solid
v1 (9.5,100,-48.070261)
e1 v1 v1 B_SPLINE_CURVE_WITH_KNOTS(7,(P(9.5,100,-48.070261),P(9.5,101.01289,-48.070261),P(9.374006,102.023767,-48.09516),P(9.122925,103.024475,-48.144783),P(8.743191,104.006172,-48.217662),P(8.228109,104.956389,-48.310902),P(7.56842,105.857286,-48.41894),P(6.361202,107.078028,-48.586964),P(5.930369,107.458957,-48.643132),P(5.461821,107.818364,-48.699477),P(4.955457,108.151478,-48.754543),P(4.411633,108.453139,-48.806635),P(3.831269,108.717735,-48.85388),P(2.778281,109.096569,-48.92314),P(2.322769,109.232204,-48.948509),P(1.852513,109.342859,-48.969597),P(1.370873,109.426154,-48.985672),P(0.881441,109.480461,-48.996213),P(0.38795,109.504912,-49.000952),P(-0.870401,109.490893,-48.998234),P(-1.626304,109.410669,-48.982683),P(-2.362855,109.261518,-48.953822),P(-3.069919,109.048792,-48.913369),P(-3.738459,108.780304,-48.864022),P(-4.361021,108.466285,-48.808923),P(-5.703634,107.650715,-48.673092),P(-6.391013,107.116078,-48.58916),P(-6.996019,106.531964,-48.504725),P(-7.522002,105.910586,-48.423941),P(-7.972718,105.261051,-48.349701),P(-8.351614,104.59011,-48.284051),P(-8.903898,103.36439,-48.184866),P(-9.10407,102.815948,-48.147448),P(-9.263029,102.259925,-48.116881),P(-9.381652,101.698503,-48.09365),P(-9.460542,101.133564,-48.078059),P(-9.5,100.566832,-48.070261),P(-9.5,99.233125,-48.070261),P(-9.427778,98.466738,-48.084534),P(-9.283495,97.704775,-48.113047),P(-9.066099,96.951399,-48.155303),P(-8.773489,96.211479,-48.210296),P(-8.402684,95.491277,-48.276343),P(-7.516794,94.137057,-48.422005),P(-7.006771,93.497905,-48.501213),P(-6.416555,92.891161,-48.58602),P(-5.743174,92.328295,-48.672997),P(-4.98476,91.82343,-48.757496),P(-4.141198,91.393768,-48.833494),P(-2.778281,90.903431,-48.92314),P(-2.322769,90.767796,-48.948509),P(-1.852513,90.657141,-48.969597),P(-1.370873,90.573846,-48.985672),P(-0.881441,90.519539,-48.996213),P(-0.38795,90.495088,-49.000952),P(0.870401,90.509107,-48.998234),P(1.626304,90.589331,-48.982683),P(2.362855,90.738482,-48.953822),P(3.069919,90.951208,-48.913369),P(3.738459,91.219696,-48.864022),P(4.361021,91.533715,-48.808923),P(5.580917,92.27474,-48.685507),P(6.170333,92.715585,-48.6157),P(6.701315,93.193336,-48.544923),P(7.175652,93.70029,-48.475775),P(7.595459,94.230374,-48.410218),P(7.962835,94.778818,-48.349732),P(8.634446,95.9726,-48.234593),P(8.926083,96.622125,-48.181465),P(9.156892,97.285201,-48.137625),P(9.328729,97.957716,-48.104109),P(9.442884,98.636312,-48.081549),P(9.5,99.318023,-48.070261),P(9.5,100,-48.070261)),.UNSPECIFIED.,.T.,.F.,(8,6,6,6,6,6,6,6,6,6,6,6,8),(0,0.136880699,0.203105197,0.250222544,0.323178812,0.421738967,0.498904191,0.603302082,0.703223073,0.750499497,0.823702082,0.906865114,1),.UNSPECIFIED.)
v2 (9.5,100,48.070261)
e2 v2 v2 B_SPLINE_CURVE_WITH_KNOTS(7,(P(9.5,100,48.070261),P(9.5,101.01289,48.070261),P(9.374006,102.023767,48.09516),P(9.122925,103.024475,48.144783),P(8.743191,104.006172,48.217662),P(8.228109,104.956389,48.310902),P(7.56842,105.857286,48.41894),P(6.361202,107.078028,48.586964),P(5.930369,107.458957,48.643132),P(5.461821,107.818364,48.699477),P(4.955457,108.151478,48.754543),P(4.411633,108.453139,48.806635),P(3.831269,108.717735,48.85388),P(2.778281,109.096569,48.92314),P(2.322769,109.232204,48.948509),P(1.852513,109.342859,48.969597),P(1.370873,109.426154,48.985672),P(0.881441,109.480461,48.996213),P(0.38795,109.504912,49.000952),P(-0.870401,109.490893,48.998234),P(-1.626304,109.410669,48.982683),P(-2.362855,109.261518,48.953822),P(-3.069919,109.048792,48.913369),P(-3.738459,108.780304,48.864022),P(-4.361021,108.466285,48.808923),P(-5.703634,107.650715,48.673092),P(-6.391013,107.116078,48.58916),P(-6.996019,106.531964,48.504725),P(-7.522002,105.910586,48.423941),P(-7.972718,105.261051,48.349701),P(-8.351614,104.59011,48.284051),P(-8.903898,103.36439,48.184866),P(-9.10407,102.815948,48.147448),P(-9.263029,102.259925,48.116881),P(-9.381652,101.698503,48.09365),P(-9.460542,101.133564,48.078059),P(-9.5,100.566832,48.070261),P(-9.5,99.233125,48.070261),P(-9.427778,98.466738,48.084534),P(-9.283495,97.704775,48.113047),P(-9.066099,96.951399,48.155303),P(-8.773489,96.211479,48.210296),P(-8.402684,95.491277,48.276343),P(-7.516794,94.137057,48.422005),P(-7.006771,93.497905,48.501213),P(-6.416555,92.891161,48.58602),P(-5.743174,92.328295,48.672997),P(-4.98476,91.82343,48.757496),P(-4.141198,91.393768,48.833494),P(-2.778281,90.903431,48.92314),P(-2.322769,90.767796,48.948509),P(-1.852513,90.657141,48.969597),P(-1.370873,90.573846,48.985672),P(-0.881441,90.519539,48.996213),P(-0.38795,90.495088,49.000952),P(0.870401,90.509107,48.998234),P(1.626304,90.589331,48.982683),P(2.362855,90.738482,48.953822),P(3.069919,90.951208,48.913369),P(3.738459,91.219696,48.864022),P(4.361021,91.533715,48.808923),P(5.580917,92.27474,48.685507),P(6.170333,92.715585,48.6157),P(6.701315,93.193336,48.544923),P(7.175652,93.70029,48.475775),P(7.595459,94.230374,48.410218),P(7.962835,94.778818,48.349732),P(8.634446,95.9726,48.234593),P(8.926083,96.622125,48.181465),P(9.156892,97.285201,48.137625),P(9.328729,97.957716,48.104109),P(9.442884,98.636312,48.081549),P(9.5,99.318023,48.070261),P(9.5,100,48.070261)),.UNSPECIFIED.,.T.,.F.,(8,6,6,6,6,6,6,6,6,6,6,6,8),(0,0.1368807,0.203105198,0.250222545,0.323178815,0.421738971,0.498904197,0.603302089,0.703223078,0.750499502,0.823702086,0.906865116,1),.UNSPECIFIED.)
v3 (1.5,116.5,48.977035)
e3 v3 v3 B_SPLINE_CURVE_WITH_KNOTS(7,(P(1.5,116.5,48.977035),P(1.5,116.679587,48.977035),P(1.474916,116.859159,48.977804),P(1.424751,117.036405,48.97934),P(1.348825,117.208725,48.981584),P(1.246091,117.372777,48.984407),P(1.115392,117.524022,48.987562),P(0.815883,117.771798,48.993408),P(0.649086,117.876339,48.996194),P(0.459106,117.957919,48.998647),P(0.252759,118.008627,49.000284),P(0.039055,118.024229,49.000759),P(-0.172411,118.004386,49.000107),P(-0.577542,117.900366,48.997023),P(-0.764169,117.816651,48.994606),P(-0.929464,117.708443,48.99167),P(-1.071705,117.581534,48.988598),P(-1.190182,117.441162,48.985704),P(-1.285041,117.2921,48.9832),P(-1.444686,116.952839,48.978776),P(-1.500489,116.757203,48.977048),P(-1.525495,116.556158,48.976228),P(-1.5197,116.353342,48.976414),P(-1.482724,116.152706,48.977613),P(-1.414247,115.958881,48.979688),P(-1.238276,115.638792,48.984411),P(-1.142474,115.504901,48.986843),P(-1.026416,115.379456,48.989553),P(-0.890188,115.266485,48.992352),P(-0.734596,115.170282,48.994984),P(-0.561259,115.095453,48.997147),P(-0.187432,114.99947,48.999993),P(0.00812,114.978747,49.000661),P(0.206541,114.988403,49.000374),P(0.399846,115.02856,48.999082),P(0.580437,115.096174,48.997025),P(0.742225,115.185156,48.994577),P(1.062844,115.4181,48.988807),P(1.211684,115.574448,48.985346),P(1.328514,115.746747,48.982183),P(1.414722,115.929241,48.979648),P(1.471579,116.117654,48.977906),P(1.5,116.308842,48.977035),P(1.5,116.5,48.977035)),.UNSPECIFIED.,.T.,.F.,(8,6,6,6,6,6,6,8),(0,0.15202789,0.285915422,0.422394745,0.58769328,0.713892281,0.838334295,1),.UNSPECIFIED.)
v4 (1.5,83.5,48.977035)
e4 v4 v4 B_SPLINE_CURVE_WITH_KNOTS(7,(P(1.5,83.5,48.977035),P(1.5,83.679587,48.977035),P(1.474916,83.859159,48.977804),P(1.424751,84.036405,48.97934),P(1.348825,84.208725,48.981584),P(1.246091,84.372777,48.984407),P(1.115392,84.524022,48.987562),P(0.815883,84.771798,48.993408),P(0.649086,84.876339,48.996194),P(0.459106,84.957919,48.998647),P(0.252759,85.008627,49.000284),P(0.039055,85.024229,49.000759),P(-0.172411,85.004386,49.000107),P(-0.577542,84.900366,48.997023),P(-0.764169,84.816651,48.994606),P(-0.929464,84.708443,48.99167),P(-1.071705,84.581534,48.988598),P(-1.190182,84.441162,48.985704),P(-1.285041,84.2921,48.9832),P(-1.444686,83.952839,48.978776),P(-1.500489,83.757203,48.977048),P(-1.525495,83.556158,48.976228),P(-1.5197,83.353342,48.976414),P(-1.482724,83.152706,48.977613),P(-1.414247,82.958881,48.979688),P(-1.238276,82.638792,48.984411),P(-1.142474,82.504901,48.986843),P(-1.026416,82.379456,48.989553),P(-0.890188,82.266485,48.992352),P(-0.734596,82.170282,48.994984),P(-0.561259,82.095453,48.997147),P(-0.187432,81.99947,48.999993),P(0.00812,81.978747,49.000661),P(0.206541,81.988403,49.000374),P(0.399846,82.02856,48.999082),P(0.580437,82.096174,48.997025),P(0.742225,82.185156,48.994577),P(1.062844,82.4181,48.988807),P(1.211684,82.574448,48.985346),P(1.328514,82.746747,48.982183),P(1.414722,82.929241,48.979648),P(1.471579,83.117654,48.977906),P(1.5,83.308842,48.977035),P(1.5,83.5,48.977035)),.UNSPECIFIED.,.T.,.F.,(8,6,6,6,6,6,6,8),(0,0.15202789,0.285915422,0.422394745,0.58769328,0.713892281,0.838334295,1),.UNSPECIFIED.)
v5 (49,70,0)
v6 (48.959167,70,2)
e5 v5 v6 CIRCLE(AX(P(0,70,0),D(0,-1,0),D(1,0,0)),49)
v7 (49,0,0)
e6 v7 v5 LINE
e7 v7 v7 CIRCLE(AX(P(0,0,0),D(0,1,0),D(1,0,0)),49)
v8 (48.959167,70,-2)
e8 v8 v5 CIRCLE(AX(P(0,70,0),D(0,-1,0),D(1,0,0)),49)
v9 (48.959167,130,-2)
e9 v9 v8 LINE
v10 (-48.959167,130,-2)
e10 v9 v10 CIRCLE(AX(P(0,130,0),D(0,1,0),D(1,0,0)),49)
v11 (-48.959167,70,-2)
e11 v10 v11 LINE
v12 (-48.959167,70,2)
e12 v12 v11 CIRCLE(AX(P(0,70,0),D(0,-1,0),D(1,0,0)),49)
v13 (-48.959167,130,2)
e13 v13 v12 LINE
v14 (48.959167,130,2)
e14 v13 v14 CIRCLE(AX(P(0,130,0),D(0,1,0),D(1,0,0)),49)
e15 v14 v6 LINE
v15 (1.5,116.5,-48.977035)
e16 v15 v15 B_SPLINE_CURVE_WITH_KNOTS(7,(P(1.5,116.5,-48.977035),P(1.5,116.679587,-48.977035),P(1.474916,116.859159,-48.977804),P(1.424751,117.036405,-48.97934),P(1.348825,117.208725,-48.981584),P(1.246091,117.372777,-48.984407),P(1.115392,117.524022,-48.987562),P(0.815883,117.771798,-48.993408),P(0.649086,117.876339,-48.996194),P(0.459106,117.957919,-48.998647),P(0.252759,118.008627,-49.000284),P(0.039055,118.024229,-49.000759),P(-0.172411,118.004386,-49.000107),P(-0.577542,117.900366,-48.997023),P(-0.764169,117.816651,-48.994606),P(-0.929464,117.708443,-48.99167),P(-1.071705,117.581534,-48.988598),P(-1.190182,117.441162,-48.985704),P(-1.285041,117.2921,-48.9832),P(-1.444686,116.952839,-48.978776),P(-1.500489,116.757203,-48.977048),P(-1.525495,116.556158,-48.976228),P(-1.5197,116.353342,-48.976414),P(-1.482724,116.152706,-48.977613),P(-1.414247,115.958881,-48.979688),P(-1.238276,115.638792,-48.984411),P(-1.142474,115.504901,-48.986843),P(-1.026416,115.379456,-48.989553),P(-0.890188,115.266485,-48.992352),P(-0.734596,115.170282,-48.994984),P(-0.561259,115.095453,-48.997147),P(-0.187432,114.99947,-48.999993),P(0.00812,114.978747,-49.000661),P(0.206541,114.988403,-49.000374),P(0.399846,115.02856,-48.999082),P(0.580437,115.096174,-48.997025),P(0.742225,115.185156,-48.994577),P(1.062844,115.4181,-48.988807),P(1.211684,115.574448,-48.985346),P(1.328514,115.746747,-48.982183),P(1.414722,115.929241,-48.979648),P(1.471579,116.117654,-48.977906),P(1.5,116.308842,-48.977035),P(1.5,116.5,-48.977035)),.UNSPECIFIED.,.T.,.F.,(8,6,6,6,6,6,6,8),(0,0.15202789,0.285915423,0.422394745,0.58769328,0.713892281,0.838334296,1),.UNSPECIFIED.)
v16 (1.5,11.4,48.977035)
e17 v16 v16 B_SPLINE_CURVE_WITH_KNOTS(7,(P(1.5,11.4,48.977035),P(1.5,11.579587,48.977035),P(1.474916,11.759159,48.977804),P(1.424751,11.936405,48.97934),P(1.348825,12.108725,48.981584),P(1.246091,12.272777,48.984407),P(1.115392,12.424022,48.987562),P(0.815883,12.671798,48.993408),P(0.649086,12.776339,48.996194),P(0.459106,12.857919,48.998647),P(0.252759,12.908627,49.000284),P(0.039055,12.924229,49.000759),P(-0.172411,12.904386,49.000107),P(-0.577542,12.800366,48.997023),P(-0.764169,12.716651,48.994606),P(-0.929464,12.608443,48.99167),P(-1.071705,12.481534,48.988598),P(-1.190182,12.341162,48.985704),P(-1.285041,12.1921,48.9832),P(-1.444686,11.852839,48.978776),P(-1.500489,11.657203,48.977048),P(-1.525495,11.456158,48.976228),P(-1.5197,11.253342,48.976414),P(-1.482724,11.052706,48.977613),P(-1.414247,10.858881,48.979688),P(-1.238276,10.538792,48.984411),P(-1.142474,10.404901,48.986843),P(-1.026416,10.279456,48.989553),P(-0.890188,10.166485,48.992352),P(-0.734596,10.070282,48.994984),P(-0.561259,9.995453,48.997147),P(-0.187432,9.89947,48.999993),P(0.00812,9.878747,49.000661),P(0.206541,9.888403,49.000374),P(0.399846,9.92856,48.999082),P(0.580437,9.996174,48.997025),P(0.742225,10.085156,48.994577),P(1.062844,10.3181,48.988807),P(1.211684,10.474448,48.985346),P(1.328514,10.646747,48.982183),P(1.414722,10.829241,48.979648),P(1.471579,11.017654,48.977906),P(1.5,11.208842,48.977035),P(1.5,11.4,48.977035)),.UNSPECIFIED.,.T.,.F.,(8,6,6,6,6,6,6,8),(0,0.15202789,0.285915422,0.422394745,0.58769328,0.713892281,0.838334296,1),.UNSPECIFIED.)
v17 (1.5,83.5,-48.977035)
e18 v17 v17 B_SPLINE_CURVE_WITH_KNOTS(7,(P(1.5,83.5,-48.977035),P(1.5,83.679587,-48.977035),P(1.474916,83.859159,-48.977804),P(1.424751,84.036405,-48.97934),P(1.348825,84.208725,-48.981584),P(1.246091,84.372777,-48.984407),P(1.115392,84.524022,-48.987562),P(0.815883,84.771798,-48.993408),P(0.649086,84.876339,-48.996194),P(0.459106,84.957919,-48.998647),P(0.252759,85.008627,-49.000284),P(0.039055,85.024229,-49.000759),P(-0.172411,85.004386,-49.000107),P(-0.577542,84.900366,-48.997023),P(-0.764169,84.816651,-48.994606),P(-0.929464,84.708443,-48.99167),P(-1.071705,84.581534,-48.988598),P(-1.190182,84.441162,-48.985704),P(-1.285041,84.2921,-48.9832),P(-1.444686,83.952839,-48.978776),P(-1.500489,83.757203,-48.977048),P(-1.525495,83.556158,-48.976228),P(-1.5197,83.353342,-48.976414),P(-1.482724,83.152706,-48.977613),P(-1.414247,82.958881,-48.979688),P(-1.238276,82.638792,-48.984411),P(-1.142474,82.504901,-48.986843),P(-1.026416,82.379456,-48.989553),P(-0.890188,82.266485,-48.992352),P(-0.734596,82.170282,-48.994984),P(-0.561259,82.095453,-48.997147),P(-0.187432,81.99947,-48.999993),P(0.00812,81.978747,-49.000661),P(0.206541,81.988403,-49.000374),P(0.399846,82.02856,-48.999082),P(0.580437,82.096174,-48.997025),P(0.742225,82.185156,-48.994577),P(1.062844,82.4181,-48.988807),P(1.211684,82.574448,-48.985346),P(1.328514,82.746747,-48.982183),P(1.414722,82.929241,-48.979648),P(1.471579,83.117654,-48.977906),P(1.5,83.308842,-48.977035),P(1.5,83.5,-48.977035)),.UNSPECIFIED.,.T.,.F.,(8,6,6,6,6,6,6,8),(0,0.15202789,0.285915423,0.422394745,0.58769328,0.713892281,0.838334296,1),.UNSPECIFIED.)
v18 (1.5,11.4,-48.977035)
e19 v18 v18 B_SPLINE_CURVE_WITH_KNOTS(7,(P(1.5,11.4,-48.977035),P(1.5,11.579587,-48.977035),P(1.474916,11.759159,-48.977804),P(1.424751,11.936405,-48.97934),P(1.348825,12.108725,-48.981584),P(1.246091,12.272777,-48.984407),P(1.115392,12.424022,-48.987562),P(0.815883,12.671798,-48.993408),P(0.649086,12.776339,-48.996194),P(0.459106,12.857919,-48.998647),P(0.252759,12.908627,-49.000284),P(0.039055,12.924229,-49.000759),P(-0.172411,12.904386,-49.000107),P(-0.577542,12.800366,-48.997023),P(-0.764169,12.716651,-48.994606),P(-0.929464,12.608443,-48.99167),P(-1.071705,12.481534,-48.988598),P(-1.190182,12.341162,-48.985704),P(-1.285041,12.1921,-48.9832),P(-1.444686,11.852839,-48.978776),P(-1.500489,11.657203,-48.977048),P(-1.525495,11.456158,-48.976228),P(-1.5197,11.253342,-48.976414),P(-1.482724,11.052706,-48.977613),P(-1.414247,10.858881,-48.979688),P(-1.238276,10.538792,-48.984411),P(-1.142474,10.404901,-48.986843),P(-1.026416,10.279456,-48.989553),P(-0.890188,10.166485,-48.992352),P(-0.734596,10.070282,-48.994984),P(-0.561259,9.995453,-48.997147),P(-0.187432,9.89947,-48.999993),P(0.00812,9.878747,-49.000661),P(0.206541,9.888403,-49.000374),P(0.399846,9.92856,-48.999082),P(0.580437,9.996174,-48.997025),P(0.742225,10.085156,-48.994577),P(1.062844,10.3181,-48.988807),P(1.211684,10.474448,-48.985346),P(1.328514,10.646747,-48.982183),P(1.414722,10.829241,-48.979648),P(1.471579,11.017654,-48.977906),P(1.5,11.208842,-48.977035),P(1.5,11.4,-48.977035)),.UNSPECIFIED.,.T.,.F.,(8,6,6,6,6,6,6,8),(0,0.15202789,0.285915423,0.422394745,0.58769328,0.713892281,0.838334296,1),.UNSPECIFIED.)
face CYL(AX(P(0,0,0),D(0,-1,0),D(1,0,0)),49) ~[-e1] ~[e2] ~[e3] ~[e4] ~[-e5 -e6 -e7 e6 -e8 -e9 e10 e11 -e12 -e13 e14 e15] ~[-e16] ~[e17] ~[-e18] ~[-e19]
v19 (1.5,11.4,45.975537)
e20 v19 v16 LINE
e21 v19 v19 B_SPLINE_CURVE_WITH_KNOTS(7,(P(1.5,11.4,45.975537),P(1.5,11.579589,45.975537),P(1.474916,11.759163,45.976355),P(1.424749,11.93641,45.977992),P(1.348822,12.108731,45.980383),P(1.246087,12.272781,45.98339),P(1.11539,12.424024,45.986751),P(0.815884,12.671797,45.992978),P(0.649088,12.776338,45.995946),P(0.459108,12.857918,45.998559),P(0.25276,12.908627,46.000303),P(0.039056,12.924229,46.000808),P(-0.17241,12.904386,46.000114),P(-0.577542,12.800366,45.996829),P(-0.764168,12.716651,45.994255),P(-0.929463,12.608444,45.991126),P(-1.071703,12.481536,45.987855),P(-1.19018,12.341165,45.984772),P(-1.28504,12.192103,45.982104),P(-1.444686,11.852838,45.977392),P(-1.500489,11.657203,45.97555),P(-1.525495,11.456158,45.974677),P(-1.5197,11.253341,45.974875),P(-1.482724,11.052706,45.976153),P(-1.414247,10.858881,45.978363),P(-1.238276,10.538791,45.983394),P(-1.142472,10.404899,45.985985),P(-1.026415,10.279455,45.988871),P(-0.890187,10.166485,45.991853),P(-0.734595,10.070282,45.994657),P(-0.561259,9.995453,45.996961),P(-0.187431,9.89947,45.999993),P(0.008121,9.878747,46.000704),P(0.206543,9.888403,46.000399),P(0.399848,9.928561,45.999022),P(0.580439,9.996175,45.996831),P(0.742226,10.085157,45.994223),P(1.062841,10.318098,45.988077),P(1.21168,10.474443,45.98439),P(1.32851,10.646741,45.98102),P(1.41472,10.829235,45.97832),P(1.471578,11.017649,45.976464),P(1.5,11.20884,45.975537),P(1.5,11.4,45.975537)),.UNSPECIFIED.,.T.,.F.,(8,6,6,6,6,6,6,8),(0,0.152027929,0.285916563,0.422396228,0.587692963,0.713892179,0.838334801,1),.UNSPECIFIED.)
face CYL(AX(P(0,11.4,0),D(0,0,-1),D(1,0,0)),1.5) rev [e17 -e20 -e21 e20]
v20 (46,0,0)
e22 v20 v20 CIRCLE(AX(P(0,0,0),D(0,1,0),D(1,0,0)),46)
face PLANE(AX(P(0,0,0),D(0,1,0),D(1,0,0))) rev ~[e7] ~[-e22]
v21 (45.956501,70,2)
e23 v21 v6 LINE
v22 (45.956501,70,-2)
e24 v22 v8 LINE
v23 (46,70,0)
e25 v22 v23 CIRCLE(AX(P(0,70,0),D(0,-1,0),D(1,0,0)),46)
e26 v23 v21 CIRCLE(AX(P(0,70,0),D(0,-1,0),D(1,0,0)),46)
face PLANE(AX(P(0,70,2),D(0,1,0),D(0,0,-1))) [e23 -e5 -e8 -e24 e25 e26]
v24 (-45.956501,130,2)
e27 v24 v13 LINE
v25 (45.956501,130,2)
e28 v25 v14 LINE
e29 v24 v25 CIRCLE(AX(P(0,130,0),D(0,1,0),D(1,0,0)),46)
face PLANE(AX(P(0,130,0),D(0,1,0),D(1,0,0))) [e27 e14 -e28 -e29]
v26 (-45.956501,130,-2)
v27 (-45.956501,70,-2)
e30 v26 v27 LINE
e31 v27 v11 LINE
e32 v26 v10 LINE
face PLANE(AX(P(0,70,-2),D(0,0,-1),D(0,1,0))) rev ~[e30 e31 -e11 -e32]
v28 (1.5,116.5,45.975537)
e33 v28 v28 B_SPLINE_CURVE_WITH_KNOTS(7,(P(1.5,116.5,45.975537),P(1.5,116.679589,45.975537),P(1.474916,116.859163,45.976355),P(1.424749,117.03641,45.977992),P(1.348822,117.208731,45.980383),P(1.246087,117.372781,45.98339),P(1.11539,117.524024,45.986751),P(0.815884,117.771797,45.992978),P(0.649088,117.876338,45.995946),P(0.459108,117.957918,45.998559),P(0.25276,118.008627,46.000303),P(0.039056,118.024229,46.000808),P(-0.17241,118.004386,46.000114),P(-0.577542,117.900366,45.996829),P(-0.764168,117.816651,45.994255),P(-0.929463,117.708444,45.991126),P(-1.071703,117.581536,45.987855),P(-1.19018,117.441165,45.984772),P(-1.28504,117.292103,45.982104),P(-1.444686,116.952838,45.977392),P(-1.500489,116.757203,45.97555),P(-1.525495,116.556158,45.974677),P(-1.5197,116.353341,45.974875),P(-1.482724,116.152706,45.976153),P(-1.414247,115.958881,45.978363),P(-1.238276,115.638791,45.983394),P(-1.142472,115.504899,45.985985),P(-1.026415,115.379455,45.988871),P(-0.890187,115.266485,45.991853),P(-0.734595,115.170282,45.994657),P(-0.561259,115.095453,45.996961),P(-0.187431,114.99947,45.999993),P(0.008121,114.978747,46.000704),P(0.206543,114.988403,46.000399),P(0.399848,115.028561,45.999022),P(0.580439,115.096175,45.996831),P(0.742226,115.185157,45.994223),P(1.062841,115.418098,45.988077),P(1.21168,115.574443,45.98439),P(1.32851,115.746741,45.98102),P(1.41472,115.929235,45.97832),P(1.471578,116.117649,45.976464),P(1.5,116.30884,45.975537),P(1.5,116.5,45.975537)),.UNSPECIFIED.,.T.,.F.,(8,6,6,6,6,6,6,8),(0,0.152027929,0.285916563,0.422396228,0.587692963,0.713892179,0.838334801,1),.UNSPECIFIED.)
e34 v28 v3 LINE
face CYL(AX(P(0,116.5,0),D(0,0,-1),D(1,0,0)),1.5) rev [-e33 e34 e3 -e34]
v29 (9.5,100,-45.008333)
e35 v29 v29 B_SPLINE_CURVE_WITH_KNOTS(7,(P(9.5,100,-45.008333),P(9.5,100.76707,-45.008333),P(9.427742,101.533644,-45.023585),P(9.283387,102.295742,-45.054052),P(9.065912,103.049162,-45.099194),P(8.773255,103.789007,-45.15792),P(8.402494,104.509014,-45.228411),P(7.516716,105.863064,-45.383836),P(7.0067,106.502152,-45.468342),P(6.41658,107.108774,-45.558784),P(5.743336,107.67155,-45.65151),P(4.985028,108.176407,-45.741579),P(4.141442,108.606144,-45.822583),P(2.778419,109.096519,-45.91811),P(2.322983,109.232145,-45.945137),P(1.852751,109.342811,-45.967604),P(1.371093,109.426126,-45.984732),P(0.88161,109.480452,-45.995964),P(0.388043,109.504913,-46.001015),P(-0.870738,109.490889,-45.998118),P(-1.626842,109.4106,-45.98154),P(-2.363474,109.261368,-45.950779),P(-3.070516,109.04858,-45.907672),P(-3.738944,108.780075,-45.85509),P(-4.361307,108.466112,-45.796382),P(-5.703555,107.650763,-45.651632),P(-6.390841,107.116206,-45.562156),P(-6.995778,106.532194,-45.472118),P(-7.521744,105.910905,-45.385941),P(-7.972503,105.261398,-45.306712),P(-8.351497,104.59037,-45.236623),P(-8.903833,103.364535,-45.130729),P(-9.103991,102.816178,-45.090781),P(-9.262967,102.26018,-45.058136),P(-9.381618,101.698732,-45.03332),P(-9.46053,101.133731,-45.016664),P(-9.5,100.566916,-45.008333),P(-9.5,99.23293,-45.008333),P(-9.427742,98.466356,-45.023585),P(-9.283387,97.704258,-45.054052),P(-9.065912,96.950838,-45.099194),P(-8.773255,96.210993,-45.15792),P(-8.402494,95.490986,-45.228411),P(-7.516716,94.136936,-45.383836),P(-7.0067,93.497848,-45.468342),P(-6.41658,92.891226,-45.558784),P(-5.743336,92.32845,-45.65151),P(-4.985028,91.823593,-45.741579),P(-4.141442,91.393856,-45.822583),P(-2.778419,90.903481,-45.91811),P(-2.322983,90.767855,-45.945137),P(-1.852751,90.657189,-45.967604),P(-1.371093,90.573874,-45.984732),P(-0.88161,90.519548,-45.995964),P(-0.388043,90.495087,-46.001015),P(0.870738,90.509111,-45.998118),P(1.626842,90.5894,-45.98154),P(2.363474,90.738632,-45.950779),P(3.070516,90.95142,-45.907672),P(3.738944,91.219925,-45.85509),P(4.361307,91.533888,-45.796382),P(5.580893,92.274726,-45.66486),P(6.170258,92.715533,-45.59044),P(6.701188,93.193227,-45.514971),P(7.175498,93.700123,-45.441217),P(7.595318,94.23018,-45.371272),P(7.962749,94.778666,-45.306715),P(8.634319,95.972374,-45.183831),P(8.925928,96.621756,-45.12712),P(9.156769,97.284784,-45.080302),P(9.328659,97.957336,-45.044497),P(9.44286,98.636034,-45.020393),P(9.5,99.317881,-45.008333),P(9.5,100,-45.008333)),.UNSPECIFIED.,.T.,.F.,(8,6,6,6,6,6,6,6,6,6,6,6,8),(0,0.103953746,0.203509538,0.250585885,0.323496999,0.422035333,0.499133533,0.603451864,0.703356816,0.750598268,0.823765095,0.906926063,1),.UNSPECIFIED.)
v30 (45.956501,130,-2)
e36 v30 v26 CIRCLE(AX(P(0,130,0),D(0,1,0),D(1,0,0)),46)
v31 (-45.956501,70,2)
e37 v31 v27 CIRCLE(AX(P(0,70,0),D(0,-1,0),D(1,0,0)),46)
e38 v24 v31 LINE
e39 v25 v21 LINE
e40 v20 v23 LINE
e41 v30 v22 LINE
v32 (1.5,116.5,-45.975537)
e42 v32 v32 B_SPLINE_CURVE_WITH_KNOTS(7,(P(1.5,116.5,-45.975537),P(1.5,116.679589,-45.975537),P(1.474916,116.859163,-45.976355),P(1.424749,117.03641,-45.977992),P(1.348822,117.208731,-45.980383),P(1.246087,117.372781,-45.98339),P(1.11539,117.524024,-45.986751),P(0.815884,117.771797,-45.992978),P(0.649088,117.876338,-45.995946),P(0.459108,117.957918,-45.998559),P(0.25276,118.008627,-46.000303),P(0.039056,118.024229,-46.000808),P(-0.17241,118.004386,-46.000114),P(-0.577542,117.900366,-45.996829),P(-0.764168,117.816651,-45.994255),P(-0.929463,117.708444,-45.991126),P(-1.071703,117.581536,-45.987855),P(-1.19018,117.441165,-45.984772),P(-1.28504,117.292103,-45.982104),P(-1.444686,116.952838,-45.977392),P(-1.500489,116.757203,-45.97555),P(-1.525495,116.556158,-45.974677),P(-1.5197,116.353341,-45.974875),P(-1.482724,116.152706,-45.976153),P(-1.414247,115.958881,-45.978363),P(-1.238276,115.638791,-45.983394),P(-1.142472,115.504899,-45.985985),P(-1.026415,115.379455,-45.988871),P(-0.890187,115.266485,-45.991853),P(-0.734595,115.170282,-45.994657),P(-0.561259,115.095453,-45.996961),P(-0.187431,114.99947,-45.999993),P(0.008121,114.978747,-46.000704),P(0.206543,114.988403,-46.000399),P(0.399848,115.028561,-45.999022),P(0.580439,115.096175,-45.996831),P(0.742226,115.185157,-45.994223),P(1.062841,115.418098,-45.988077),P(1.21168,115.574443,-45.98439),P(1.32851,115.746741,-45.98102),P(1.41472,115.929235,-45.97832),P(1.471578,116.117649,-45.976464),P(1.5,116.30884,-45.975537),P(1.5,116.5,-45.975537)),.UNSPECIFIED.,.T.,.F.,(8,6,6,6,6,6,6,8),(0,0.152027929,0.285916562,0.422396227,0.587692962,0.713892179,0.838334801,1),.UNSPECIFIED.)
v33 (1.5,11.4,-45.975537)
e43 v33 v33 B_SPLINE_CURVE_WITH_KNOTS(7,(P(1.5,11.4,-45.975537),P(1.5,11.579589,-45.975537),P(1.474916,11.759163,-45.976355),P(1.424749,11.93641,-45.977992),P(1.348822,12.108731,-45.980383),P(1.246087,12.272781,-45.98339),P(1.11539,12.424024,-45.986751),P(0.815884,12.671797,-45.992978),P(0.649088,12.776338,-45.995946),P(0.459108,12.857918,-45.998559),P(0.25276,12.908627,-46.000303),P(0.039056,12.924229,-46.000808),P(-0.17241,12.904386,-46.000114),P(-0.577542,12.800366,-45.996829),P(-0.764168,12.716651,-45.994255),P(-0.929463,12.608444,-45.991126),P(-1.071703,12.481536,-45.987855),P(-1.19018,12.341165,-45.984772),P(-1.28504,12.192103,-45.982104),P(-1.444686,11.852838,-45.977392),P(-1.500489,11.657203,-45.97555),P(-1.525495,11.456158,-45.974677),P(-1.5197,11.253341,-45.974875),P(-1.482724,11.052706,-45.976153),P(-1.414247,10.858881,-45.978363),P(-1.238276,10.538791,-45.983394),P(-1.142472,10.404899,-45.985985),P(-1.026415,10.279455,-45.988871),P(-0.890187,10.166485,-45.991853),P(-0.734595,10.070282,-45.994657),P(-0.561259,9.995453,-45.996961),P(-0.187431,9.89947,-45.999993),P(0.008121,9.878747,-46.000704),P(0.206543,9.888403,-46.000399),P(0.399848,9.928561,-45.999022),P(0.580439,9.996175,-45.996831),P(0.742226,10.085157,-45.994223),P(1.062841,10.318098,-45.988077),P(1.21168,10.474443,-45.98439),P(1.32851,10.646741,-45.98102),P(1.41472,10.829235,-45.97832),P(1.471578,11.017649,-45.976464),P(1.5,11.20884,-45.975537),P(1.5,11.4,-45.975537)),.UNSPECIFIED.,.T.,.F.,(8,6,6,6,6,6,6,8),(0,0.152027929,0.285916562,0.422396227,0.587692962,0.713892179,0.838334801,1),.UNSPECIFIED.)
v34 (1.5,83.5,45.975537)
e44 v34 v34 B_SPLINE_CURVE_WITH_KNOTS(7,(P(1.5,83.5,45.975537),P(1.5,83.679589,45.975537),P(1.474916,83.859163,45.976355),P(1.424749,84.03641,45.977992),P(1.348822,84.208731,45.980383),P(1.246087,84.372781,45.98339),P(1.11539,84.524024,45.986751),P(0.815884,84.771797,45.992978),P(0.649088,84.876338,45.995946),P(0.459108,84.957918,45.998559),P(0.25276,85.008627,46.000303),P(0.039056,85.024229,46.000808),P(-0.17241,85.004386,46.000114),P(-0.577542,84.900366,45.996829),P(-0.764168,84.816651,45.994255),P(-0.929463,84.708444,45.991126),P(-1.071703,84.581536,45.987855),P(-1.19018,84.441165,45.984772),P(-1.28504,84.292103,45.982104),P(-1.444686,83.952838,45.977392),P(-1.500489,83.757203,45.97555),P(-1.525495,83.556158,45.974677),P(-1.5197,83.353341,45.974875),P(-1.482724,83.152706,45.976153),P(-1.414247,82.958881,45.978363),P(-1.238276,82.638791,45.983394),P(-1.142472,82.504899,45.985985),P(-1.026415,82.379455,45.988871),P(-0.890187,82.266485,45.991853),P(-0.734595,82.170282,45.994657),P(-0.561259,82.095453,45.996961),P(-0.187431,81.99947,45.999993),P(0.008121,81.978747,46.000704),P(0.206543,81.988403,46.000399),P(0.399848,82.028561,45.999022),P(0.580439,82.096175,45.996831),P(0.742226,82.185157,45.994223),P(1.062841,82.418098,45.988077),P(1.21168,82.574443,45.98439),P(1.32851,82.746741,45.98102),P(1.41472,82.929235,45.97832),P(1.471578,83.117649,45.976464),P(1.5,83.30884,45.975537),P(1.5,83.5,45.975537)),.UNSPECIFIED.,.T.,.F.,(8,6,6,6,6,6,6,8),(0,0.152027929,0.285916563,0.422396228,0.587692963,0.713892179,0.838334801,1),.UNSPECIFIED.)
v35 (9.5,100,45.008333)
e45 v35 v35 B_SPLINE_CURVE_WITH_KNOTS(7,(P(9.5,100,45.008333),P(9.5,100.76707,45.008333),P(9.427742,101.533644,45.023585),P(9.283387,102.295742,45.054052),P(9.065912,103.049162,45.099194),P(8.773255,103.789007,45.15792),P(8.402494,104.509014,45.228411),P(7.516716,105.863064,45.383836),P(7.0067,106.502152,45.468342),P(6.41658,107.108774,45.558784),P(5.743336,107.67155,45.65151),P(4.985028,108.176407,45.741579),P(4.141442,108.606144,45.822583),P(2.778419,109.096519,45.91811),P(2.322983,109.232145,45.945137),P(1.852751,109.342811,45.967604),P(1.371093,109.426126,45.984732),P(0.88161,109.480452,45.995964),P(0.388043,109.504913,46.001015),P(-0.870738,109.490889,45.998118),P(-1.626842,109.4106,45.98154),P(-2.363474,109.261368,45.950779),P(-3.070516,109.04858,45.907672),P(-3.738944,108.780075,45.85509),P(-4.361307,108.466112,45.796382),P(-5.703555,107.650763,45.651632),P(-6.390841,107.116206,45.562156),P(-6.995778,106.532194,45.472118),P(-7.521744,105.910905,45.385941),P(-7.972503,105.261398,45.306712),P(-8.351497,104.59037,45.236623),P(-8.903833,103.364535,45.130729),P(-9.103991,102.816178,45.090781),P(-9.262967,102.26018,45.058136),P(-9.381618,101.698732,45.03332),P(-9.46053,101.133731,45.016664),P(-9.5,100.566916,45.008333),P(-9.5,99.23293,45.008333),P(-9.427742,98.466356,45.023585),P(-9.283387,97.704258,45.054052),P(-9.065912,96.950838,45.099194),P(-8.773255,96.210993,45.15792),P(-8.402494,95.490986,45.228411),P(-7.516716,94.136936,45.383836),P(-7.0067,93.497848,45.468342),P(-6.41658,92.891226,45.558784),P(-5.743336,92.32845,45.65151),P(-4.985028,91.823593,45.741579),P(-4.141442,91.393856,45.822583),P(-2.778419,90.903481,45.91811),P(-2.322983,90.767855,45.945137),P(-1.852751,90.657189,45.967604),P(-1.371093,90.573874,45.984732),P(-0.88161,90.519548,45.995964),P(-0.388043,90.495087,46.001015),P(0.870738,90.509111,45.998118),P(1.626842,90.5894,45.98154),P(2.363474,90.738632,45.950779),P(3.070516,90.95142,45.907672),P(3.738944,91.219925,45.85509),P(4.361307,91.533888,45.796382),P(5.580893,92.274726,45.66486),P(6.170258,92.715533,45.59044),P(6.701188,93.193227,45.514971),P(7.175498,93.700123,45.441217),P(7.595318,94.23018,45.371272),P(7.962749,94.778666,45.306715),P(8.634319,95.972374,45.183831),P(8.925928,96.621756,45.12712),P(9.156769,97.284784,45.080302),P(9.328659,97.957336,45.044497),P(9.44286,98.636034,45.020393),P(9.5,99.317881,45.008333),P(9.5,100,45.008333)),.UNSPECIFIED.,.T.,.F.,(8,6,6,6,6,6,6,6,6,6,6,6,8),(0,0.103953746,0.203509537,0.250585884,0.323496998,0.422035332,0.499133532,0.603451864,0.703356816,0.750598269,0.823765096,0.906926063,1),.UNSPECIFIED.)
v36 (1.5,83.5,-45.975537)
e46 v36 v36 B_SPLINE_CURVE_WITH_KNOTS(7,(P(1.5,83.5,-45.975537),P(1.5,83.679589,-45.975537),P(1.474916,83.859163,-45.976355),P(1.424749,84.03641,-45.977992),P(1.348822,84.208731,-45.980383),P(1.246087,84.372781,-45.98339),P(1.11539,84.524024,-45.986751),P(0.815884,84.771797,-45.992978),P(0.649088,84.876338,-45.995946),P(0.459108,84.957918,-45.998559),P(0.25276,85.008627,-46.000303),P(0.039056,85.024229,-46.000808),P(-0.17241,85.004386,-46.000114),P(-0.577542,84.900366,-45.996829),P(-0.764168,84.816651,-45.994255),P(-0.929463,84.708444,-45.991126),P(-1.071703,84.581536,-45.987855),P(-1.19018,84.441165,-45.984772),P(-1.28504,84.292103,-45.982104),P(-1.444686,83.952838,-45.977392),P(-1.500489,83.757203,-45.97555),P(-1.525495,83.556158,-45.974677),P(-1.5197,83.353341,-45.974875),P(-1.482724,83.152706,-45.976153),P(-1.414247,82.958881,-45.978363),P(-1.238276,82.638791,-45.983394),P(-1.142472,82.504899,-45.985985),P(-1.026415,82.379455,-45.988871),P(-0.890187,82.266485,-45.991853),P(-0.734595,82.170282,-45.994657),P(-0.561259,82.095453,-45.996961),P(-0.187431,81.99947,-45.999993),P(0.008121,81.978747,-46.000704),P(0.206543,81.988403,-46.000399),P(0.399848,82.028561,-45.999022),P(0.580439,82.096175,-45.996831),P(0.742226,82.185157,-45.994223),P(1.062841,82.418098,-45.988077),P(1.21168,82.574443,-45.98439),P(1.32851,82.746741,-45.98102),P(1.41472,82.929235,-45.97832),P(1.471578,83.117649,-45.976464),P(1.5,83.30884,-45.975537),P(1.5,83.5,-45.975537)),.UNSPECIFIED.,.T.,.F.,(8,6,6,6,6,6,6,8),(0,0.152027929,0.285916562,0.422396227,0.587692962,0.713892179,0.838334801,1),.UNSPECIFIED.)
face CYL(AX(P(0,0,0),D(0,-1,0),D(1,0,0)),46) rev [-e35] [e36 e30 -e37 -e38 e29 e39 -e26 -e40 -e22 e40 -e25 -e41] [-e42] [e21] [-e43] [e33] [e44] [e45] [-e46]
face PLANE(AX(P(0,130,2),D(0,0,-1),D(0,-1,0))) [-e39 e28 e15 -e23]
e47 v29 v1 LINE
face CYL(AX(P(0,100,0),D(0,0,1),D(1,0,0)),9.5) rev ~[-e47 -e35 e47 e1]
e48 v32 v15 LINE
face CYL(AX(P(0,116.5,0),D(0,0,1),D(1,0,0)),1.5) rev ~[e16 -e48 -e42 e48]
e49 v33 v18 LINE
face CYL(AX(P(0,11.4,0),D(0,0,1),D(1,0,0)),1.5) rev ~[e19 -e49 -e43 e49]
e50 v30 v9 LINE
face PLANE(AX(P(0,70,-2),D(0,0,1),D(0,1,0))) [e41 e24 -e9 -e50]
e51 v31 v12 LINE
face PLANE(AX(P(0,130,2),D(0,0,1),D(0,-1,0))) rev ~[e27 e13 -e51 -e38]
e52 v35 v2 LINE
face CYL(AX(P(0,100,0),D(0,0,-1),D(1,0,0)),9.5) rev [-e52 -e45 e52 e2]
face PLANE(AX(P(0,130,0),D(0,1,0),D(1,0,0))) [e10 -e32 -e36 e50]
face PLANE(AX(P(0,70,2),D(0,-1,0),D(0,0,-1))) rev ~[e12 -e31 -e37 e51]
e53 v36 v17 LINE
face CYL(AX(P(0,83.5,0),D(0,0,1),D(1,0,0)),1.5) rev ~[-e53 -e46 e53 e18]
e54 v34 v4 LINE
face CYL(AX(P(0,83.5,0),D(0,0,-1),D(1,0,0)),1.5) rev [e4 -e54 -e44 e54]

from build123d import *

# Parameters (mm, degrees)
SKETCH1_R               = 49
SKETCH1_R_2             = 46
BOSS_EXTRUDE1_DEPTH     = 130
SKETCH2_R               = 1.5
CUT_EXTRUDE1_DEPTH      = 50
CUT_EXTRUDE1_DEPTH_BACK = 50
SKETCH3_R               = 9.5
CUT_EXTRUDE2_DEPTH      = 50.000000109
CUT_EXTRUDE2_DEPTH_BACK = 50.000000109
SKETCH4_R               = 1.5
CUT_EXTRUDE3_DEPTH      = 50.000000109
CUT_EXTRUDE3_DEPTH_BACK = 50.000000109
CUT_EXTRUDE4_DEPTH      = 70
CUT_EXTRUDE4_DEPTH_BACK = 70


with BuildPart() as part:
    # Sketch1 → Boss-Extrude1 (new body)
    with BuildSketch(Plane(origin=(0, 0, 0), x_dir=(1, 0, 0), z_dir=(0, 1, 0))):
        Circle(SKETCH1_R)
        Circle(SKETCH1_R_2, mode=Mode.SUBTRACT)
    extrude(amount=BOSS_EXTRUDE1_DEPTH)

    # Sketch2 → Cut-Extrude1 (cut, two sides)
    with BuildSketch(Plane.XY) as cut_extrude1_sk:
        with Locations((0, 11.4)):
            Circle(SKETCH2_R)
    extrude(amount=CUT_EXTRUDE1_DEPTH, mode=Mode.SUBTRACT)
    extrude(cut_extrude1_sk.sketch, amount=-CUT_EXTRUDE1_DEPTH_BACK, mode=Mode.SUBTRACT)

    # Sketch3 → Cut-Extrude2 (cut, two sides)
    with BuildSketch(Plane.XY) as cut_extrude2_sk:
        with Locations((0, 100)):
            Circle(SKETCH3_R)
    extrude(amount=CUT_EXTRUDE2_DEPTH, mode=Mode.SUBTRACT)
    extrude(cut_extrude2_sk.sketch, amount=-CUT_EXTRUDE2_DEPTH_BACK, mode=Mode.SUBTRACT)

    # Sketch4 → Cut-Extrude3 (cut, two sides)
    with BuildSketch(Plane.XY) as cut_extrude3_sk:
        with Locations((0, 83.5)):
            Circle(SKETCH4_R)
        with Locations((0, 116.5)):
            Circle(SKETCH4_R)
    extrude(amount=CUT_EXTRUDE3_DEPTH, mode=Mode.SUBTRACT)
    extrude(cut_extrude3_sk.sketch, amount=-CUT_EXTRUDE3_DEPTH_BACK, mode=Mode.SUBTRACT)

    # Sketch5 → Cut-Extrude4 (cut, two sides)
    with BuildSketch(Plane(origin=(0, 0, 0), x_dir=(0, 0, -1), z_dir=(1, 0, 0))) as cut_extrude4_sk:
        Polygon((0, 70), (2, 70), (2, 130), (-2, 130), (-2, 70), align=None)
    extrude(amount=CUT_EXTRUDE4_DEPTH, mode=Mode.SUBTRACT)
    extrude(cut_extrude4_sk.sketch, amount=-CUT_EXTRUDE4_DEPTH_BACK, mode=Mode.SUBTRACT)


solid = part.part
